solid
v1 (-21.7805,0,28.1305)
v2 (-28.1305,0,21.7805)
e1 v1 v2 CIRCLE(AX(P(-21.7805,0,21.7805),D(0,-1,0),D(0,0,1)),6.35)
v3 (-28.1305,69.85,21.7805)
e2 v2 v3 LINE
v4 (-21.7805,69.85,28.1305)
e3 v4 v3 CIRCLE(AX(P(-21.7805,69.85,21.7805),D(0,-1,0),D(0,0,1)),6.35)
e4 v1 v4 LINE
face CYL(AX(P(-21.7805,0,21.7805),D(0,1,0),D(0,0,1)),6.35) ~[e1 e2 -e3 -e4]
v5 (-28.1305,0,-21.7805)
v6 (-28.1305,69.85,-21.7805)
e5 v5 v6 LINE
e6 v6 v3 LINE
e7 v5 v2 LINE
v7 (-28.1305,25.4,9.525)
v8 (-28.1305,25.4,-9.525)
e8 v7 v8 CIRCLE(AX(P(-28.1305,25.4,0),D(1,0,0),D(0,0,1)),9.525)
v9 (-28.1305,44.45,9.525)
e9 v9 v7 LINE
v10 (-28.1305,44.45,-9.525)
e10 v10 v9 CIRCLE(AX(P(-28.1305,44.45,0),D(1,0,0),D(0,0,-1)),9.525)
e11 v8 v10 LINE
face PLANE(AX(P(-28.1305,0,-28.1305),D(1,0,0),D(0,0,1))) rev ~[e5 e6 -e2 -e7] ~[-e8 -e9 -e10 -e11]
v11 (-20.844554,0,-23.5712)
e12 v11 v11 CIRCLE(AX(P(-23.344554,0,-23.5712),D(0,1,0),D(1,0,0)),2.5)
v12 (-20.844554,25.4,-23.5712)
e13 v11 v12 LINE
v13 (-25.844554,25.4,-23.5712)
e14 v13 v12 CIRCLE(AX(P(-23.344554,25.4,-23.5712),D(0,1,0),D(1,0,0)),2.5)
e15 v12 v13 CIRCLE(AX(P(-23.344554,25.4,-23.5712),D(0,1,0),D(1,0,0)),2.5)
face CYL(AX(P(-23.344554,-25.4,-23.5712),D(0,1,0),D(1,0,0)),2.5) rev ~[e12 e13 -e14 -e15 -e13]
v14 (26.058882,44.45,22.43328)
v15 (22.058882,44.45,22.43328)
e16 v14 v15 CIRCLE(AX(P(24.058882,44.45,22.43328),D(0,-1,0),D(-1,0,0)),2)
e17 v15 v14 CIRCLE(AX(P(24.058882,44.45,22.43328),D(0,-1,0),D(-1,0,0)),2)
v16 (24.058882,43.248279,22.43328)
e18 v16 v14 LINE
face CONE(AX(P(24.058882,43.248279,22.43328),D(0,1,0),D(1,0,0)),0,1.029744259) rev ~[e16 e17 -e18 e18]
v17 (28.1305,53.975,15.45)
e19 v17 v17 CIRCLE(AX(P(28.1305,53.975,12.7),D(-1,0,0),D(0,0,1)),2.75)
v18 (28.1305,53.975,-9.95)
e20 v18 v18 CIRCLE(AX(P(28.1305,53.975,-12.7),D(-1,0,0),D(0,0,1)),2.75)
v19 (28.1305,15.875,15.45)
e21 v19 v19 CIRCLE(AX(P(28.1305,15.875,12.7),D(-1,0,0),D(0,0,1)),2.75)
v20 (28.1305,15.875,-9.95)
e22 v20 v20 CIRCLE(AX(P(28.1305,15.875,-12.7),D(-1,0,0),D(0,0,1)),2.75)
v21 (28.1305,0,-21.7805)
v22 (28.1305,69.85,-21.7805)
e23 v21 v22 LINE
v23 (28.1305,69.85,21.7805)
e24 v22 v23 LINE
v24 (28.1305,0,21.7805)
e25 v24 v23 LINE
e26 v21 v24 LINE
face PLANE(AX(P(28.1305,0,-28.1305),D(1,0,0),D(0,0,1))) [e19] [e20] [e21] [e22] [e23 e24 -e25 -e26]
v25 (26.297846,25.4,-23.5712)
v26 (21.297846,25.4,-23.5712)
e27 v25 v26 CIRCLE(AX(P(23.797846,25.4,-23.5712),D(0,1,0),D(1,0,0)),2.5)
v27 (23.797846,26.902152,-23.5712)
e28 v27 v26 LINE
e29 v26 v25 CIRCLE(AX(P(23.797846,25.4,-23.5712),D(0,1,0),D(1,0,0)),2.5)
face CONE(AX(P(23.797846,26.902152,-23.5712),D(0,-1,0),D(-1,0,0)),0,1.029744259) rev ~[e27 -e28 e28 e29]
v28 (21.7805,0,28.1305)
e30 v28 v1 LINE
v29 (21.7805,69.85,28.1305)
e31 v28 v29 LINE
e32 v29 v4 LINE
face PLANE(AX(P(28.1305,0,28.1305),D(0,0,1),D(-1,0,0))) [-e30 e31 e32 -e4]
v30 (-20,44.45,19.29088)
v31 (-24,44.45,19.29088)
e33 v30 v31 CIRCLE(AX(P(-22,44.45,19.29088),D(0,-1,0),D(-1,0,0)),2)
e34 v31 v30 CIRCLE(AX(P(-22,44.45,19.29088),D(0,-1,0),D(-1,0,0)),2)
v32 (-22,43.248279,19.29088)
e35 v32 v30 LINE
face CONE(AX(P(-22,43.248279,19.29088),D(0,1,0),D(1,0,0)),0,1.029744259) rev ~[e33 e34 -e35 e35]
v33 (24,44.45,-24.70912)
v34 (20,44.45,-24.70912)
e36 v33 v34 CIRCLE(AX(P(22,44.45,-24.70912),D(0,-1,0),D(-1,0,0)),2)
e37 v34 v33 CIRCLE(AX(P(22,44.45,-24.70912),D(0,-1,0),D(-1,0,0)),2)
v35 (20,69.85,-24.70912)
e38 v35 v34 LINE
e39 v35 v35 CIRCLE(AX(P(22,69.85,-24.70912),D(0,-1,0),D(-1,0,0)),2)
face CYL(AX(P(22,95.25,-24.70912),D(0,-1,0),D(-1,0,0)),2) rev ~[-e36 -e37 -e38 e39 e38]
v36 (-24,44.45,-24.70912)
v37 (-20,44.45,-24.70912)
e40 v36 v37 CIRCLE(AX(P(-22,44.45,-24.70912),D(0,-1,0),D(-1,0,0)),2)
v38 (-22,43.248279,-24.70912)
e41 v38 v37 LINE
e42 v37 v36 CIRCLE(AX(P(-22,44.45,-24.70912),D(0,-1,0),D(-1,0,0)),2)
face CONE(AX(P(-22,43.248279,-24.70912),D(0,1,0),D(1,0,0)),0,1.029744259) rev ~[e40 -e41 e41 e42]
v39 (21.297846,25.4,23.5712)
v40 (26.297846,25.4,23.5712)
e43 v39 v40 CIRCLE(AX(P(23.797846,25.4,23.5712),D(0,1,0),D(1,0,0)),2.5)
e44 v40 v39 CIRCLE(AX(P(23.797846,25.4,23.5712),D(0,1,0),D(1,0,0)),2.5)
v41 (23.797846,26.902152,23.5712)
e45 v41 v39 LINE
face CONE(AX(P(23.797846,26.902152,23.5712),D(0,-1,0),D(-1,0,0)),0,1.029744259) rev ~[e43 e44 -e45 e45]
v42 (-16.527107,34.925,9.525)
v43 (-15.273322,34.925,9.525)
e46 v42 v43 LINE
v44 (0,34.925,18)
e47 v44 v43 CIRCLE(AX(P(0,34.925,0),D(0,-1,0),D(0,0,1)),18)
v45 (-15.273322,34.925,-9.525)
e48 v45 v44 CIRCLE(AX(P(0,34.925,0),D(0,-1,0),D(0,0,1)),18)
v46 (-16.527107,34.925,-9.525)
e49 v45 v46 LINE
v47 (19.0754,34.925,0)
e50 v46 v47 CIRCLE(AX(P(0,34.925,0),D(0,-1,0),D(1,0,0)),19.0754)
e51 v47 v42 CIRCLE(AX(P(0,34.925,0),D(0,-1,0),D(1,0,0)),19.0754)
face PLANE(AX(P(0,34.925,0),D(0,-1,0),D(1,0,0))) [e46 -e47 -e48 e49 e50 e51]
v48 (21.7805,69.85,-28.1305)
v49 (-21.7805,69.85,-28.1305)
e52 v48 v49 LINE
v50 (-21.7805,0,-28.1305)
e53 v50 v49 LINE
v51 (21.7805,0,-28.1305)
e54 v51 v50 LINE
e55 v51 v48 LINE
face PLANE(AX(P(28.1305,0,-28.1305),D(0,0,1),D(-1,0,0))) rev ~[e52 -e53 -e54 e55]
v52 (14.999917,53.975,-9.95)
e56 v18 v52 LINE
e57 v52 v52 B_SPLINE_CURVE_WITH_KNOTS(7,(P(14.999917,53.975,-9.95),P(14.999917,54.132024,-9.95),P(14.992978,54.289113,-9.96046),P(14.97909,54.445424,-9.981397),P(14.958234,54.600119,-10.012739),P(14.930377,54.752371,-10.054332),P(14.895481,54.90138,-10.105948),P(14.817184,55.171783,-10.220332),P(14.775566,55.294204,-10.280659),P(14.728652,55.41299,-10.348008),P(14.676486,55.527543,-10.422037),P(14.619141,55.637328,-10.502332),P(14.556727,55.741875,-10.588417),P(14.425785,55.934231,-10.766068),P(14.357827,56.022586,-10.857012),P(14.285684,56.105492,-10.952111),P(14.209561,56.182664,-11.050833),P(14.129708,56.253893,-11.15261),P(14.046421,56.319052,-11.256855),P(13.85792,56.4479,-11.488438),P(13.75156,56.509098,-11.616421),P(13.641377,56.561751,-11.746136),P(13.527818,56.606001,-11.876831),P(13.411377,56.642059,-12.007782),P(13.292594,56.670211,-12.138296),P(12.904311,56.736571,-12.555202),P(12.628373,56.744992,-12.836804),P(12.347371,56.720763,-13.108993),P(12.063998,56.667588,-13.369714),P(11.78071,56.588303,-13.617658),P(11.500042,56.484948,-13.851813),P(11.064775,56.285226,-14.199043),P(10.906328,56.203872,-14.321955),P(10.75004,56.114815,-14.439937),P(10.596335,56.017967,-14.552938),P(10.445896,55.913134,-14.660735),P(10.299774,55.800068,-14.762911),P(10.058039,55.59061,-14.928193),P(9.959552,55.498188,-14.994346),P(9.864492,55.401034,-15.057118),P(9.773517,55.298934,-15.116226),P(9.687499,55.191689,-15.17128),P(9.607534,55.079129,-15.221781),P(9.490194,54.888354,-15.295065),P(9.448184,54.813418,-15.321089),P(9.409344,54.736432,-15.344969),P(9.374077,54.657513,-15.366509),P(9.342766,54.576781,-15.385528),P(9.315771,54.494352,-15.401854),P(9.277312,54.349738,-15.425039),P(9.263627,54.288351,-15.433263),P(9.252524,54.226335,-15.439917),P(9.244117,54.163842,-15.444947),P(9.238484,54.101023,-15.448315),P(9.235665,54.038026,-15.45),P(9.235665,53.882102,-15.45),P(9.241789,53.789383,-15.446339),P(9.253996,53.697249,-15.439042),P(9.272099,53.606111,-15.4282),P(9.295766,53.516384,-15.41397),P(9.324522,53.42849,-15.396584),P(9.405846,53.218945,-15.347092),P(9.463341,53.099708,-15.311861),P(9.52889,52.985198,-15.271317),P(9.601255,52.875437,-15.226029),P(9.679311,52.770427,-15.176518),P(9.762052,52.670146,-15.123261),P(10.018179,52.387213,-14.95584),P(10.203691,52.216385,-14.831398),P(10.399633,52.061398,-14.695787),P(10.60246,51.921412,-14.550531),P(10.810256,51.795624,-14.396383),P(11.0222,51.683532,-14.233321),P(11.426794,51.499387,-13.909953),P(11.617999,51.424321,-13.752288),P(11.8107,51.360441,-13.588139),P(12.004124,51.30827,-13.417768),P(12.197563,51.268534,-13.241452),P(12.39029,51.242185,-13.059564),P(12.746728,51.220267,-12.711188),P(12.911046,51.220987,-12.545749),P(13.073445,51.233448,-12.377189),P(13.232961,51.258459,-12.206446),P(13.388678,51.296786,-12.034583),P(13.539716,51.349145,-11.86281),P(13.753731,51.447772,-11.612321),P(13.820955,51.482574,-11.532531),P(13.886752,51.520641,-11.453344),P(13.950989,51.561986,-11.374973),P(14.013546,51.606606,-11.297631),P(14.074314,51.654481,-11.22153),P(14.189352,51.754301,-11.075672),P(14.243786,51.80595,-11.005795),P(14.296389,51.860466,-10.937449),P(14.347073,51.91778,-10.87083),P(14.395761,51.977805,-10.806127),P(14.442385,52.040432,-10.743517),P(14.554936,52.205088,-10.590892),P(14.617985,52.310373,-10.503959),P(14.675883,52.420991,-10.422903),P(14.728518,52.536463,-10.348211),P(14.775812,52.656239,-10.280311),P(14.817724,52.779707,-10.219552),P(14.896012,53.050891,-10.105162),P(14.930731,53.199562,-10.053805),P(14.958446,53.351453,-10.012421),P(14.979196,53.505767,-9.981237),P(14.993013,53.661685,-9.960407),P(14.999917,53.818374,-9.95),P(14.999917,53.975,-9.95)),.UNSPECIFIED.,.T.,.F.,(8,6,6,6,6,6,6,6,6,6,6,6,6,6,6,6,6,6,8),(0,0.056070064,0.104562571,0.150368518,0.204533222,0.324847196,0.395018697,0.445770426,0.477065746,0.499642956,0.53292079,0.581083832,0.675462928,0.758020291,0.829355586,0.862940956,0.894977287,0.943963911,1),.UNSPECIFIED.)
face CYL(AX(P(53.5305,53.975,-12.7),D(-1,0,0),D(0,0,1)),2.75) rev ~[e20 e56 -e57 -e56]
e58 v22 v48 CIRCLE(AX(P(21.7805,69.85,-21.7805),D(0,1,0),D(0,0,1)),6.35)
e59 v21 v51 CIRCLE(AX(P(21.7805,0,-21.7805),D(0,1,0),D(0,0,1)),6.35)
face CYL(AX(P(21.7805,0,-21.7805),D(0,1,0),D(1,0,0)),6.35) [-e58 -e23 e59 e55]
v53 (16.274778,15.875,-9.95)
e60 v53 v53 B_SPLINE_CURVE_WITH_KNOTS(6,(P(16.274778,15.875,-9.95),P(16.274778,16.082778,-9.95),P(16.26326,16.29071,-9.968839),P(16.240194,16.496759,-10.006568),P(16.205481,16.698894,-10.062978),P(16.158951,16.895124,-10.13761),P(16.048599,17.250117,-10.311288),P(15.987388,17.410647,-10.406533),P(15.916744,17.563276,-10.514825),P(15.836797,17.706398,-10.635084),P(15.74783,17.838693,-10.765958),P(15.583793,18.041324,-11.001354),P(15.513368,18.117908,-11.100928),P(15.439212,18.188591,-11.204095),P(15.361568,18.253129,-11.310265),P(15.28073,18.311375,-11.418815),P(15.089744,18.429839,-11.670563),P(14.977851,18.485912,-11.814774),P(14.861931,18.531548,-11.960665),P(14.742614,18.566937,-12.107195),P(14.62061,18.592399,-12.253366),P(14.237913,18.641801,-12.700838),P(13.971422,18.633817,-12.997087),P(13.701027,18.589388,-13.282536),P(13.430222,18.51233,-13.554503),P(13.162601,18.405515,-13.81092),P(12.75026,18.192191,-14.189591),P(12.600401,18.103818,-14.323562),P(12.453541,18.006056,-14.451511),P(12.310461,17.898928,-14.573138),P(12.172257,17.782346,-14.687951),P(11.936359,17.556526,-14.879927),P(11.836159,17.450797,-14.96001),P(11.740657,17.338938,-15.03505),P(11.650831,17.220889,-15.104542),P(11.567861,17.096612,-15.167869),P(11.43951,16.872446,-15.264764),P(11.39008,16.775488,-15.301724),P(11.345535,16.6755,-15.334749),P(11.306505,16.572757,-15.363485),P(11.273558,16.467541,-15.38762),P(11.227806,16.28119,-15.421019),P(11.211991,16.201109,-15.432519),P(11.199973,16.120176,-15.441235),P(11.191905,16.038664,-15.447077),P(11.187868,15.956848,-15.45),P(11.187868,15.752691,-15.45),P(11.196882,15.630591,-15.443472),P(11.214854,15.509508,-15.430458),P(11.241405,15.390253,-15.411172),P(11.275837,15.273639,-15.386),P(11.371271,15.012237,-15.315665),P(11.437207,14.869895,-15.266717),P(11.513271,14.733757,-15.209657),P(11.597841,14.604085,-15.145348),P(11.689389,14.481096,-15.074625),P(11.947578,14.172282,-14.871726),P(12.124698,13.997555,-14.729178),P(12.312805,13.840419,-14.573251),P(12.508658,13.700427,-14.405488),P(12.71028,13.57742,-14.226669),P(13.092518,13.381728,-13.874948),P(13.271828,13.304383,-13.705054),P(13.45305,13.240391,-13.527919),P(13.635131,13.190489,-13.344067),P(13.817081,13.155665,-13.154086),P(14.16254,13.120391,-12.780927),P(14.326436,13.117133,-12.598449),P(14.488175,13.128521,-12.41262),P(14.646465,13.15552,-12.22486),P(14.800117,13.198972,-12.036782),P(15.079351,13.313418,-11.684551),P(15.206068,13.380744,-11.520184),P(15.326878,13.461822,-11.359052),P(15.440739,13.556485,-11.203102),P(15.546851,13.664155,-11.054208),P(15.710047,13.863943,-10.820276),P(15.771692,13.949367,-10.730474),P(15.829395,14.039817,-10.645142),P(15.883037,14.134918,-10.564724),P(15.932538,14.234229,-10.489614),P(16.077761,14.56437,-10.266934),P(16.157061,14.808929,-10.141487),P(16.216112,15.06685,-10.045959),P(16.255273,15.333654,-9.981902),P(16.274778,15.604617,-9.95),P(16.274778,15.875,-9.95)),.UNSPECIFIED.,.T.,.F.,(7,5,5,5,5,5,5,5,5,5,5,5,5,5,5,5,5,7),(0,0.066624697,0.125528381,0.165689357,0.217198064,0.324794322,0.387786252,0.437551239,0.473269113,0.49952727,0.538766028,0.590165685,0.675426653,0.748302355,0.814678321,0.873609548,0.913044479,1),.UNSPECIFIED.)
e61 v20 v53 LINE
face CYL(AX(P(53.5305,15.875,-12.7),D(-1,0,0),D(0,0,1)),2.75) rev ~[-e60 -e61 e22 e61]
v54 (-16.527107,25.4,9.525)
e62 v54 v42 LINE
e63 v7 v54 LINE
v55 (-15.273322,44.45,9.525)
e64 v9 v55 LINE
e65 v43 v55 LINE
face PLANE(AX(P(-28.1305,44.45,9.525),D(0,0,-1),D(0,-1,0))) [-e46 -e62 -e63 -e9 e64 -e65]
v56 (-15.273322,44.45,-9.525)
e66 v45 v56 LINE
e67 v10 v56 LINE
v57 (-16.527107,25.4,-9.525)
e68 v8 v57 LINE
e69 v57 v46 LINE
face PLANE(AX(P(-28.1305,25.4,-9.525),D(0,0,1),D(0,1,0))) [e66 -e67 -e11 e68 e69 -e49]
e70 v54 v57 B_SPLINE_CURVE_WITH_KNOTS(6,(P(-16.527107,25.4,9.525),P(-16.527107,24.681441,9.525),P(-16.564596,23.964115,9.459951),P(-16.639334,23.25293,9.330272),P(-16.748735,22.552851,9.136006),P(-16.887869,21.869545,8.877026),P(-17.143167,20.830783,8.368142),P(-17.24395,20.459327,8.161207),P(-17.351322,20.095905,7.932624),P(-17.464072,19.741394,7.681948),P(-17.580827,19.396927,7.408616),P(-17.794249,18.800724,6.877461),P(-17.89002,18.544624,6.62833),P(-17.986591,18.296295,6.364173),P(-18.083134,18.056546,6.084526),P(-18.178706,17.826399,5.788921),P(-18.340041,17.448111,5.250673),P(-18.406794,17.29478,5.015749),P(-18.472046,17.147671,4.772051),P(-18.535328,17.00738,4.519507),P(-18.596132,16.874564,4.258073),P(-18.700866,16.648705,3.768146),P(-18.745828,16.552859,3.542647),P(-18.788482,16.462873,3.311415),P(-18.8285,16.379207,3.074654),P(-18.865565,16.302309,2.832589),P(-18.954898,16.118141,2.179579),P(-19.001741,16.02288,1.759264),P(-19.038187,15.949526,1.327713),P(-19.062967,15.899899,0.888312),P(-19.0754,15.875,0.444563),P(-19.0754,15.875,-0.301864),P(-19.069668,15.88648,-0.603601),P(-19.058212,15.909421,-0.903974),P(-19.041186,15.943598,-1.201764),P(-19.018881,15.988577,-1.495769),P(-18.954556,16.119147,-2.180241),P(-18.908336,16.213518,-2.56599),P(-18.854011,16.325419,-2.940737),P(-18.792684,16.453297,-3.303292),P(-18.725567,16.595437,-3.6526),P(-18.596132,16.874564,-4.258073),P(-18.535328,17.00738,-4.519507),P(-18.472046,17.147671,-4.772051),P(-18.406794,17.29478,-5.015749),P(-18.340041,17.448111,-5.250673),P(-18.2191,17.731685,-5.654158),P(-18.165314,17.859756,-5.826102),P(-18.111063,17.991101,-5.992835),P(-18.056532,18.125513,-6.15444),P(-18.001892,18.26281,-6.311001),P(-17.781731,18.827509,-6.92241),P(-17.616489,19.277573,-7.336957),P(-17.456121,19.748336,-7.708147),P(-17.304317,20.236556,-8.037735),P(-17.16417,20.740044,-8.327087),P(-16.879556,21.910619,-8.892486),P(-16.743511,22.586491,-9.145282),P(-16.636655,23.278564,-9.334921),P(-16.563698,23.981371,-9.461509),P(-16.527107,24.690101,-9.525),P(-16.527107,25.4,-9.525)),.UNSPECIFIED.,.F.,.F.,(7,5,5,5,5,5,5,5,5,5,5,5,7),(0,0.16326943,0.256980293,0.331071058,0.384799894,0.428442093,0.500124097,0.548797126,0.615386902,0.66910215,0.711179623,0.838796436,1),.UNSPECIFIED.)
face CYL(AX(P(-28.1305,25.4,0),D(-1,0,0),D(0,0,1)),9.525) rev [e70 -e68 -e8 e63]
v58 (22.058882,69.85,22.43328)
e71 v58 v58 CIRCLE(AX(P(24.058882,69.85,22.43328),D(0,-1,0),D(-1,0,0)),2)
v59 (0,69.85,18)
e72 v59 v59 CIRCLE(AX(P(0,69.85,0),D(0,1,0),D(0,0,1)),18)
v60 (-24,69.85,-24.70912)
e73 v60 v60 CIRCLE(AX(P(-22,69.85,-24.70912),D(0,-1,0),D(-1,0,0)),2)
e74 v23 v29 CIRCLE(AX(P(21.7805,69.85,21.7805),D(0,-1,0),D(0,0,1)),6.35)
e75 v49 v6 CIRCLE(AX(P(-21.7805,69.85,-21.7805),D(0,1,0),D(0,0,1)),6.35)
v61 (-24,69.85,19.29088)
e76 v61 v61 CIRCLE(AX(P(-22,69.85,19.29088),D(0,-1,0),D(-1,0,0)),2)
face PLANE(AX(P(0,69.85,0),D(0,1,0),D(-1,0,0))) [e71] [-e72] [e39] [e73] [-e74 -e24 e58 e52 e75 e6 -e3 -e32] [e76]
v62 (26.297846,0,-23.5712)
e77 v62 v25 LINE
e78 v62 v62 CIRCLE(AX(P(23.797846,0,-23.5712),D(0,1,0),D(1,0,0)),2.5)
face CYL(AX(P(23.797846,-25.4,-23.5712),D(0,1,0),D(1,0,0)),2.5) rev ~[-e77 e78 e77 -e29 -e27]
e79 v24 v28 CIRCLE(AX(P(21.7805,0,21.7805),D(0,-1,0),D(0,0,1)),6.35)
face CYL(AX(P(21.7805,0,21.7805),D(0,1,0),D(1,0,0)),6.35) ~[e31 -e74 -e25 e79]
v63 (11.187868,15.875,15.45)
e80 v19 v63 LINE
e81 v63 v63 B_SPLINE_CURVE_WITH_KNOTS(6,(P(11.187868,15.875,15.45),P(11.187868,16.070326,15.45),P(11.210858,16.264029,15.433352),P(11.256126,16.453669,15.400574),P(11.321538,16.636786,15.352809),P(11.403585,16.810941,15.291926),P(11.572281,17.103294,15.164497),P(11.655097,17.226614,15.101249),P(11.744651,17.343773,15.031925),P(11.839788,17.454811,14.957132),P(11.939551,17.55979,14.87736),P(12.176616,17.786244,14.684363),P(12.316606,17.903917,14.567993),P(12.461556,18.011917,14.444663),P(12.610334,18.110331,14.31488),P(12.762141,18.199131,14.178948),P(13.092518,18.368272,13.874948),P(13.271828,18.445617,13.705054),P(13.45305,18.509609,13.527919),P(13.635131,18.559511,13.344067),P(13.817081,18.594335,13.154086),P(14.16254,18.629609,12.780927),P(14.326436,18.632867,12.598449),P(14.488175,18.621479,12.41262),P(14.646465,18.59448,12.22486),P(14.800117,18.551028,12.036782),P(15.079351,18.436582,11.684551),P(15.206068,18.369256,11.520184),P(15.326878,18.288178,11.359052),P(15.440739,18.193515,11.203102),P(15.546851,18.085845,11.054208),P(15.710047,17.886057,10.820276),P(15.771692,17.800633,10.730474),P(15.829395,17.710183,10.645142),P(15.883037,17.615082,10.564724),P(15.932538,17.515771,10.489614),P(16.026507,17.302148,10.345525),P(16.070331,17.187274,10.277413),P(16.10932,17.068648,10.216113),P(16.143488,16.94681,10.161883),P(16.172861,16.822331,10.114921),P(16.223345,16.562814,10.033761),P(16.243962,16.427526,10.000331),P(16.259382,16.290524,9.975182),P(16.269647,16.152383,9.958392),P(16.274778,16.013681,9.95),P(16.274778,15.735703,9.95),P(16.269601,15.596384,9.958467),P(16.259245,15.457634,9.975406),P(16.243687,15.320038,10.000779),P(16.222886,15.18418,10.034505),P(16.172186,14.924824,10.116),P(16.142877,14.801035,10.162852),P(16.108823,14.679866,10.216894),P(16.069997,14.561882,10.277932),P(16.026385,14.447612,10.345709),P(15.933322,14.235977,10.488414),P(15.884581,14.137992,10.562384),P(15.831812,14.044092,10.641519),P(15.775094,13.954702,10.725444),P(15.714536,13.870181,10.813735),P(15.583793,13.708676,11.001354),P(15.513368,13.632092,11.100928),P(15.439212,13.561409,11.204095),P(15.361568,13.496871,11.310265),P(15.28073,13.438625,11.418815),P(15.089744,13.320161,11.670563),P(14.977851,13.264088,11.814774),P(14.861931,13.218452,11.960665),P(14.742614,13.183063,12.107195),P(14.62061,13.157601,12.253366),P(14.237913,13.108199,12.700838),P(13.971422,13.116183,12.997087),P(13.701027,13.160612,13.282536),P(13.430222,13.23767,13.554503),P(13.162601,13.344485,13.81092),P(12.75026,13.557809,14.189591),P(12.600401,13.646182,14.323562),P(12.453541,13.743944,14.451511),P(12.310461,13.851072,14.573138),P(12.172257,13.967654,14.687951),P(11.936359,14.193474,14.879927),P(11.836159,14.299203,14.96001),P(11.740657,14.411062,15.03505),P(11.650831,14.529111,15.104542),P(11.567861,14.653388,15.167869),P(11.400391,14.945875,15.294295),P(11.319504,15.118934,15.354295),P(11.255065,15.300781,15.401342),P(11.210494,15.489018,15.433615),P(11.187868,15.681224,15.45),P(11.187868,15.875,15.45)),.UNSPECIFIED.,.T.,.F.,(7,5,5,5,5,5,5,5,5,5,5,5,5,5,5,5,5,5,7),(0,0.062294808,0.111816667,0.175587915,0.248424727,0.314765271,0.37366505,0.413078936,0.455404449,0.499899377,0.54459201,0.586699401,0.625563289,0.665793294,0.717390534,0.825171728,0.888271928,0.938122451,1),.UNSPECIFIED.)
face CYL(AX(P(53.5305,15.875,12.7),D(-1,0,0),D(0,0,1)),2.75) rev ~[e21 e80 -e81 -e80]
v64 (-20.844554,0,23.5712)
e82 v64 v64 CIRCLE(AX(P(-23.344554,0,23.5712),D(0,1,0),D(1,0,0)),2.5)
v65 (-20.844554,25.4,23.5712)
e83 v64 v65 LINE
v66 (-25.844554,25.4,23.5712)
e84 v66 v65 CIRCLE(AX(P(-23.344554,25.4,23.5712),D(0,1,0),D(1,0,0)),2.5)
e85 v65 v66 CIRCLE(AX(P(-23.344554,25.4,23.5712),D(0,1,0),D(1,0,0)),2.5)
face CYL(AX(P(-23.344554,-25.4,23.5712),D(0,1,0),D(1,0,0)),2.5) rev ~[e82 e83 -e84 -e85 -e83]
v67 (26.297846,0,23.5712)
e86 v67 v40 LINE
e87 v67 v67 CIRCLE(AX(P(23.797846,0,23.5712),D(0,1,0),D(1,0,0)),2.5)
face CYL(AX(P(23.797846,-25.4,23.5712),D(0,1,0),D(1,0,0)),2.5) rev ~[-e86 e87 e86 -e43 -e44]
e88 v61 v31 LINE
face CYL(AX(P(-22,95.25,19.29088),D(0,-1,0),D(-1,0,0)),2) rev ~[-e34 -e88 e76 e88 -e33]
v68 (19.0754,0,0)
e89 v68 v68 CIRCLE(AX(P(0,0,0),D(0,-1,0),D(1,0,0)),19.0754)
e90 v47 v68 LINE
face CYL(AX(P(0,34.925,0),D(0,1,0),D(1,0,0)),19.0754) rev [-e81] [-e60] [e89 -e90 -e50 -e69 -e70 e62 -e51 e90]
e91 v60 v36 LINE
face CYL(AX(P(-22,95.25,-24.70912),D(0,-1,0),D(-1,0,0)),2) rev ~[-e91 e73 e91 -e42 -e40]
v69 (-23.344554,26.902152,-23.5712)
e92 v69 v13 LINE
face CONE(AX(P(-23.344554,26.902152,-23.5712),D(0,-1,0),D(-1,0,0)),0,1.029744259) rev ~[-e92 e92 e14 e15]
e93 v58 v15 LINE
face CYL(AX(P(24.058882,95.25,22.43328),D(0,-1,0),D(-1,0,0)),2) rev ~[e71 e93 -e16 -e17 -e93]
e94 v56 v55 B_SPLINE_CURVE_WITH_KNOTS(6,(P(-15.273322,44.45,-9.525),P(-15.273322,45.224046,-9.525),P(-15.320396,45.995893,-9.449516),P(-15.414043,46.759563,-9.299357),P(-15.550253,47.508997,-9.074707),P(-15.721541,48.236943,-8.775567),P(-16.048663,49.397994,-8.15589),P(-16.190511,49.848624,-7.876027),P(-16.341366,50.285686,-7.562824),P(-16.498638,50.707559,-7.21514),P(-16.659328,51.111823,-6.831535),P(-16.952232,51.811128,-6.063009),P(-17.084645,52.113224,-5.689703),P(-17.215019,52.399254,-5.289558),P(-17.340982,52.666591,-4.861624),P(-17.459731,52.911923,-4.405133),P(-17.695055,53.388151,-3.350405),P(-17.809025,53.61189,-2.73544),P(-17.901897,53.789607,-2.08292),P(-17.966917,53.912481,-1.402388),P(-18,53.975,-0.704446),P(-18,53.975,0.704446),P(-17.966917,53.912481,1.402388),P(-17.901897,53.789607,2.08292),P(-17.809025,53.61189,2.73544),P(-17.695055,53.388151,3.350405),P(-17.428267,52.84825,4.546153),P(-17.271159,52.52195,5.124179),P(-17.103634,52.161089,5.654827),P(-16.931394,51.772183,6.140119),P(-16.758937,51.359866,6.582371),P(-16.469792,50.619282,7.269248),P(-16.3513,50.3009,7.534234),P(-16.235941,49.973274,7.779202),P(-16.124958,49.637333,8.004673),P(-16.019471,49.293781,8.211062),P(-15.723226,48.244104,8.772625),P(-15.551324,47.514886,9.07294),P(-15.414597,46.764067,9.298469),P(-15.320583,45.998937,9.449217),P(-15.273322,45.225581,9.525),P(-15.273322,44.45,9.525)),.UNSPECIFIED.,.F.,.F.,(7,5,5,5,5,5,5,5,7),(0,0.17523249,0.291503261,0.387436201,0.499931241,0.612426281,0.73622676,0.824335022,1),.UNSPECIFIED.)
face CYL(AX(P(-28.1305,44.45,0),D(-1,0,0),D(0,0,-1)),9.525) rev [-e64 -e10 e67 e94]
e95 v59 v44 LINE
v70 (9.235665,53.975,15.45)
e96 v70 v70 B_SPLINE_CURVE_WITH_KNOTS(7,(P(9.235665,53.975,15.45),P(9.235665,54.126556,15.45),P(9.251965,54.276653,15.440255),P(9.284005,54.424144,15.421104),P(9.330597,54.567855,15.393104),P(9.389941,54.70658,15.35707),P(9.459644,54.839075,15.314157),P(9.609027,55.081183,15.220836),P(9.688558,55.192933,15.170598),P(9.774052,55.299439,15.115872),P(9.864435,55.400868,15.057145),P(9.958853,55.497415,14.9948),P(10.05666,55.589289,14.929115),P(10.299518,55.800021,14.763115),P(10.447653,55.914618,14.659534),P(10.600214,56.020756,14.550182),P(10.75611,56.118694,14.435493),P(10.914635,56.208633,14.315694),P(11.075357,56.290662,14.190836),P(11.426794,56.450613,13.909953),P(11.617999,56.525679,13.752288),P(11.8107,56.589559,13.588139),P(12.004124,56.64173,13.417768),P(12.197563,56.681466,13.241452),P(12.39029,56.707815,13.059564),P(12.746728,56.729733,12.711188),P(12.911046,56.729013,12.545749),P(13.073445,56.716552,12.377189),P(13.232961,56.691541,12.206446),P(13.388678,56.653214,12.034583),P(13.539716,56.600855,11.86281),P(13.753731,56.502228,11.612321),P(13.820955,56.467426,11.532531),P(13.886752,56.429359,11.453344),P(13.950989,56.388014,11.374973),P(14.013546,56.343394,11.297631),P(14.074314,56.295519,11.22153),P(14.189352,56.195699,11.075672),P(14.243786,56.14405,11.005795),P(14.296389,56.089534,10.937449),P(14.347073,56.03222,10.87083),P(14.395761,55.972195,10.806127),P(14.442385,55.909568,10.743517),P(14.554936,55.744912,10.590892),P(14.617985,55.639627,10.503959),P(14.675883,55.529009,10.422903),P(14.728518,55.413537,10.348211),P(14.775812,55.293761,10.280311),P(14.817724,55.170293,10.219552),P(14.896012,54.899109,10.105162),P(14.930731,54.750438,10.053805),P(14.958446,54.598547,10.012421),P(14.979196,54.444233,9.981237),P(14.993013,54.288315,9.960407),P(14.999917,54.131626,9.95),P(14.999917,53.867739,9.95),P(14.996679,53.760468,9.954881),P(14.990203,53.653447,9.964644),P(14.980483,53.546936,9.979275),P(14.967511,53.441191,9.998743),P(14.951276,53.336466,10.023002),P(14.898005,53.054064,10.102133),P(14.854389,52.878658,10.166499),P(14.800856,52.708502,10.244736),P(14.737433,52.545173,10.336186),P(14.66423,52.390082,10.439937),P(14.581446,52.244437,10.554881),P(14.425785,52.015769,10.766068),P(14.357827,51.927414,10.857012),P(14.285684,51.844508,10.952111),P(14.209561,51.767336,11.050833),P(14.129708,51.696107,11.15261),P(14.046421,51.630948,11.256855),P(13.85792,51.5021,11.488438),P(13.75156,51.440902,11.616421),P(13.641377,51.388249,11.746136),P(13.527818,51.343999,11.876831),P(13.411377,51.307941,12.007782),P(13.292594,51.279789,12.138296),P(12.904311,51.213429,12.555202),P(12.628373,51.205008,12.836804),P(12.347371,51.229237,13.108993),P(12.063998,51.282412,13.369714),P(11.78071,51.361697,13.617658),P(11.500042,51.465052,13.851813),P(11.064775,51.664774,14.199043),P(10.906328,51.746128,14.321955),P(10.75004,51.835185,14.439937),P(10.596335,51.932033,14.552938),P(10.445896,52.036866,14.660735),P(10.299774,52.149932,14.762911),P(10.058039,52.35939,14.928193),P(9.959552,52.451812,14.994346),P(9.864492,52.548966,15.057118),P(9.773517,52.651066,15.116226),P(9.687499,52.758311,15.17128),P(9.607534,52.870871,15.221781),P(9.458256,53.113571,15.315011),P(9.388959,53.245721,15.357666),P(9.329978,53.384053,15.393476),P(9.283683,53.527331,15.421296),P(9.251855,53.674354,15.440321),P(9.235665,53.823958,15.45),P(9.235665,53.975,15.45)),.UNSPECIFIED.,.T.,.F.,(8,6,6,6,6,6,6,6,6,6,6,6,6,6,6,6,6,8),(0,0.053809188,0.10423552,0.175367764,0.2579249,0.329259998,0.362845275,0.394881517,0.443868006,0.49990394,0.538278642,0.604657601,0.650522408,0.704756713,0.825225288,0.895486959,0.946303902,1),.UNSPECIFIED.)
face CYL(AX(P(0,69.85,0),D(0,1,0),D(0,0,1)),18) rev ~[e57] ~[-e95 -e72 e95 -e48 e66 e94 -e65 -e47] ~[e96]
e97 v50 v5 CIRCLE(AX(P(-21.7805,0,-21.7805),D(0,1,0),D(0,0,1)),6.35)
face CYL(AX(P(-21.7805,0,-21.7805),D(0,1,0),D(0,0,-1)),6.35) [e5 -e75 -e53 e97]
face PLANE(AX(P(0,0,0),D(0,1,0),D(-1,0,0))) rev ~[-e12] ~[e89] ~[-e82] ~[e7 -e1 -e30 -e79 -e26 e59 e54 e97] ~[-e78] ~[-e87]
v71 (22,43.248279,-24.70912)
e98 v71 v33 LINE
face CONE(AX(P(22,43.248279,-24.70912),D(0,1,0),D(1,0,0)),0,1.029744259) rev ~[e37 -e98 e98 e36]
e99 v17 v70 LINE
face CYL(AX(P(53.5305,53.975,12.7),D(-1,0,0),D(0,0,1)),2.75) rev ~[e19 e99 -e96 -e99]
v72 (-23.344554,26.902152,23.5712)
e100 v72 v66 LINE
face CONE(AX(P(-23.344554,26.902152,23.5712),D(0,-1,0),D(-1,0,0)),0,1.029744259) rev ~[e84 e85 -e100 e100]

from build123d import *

# Parameters (mm, degrees)
SKETCH1_W        = 56.261
SKETCH1_H        = 56.261
EXTRUSION1_DEPTH = 69.85
HOLE1_D          = 4
HOLE1_DEPTH      = 25.4
HOLE1_TIP        = 1.201721238
SKETCH4_R        = 18
EXTRUSION2_DEPTH = 254
HOLE2_D          = 5
HOLE2_DEPTH      = 25.4
HOLE2_TIP        = 1.502151548
EXTRUSION3_START = -34.925
SKETCH7_R        = 19.0754
SKETCH7_R_2      = 18
EXTRUSION3_DEPTH = 34.925
FILLET1_R        = 6.35
FILLET2_R        = 6.35
FILLET3_R        = 6.35
FILLET4_R        = 6.35
EXTRUSION4_DEPTH = 25.4
HOLE3_D          = 5.5
HOLE3_DEPTH      = 25.4
HOLE3_TIP        = 1.652366702


with BuildPart() as part:
    # Sketch1 → Extrusion1 (new body)
    with BuildSketch(Plane(origin=(0, 0, 0), x_dir=(-1, 0, 0), z_dir=(0, 1, 0))):
        Rectangle(SKETCH1_W, SKETCH1_H)
    extrude(amount=EXTRUSION1_DEPTH)

    # Hole1
    with Locations(Plane(origin=(0, 69.85, 0), x_dir=(1, 0, 0), z_dir=(0, 1, 0))):
        with Locations((-22, 24.70912), (22, 24.70912), (24.058881555, -22.43328), (-22, -19.29088)):
            Hole(HOLE1_D / 2, depth=HOLE1_DEPTH)
            with Locations((0, 0, -(HOLE1_DEPTH + HOLE1_TIP / 2))):  # 118° drill point
                Cone(0, HOLE1_D / 2, HOLE1_TIP, mode=Mode.SUBTRACT)

    # Sketch4 → Extrusion2 (cut)
    with BuildSketch(Plane(origin=(0, 69.85, 0), x_dir=(-1, 0, 0), z_dir=(0, 1, 0))):
        with Locations(Location((0, 0, 0), (0, 0, 90))):
            Circle(SKETCH4_R)
    extrude(amount=-EXTRUSION2_DEPTH, mode=Mode.SUBTRACT)

    # Hole2
    with Locations(Plane(origin=(0, 0, 0), x_dir=(-1, 0, 0), z_dir=(0, -1, 0))):
        with Locations((23.344553846, -23.5712), (-23.797846154, -23.5712), (-23.797846154, 23.5712), (23.344553846, 23.5712)):
            Hole(HOLE2_D / 2, depth=HOLE2_DEPTH)
            with Locations((0, 0, -(HOLE2_DEPTH + HOLE2_TIP / 2))):  # 118° drill point
                Cone(0, HOLE2_D / 2, HOLE2_TIP, mode=Mode.SUBTRACT)

    # Sketch7 → Extrusion3 (cut)
    with BuildSketch(Plane.XZ.offset(EXTRUSION3_START)):
        Circle(SKETCH7_R)
        with Locations(Location((0, 0, 0), (0, 0, 90))):
            Circle(SKETCH7_R_2, mode=Mode.SUBTRACT)
    extrude(amount=EXTRUSION3_DEPTH, mode=Mode.SUBTRACT)

    # Fillet1
    fillet1_edges = [part.edges().sort_by_distance(p)[0] for p in [
        (28.1305, 34.925, 28.1305),
    ]]
    fillet(fillet1_edges, radius=FILLET1_R)

    # Fillet2
    fillet2_edges = [part.edges().sort_by_distance(p)[0] for p in [
        (-28.1305, 34.925, 28.1305),
    ]]
    fillet(fillet2_edges, radius=FILLET2_R)

    # Fillet3
    fillet3_edges = [part.edges().sort_by_distance(p)[0] for p in [
        (28.1305, 34.925, -28.1305),
    ]]
    fillet(fillet3_edges, radius=FILLET3_R)

    # Fillet4
    fillet4_edges = [part.edges().sort_by_distance(p)[0] for p in [
        (-28.1305, 34.925, -28.1305),
    ]]
    fillet(fillet4_edges, radius=FILLET4_R)

    # Sketch8 → Extrusion4 (cut)
    with BuildSketch(Plane.ZY.offset(28.1305)):
        with BuildLine():
            Line((-9.525, 25.4), (-9.525, 44.45))
            ThreePointArc((-9.525, 44.45), (0, 53.975), (9.525, 44.45))
            Line((9.525, 44.45), (9.525, 25.4))
            ThreePointArc((9.525, 25.4), (0, 15.875), (-9.525, 25.4))
        make_face()
    extrude(amount=-EXTRUSION4_DEPTH, mode=Mode.SUBTRACT)

    # Hole3
    with Locations(Plane(origin=(28.1305, 0, 0), x_dir=(0, 0, -1), z_dir=(1, 0, 0))):
        with Locations((-12.7, 53.975), (12.7, 53.975), (12.7, 15.875), (-12.7, 15.875)):
            Hole(HOLE3_D / 2, depth=HOLE3_DEPTH)
            with Locations((0, 0, -(HOLE3_DEPTH + HOLE3_TIP / 2))):  # 118° drill point
                Cone(0, HOLE3_D / 2, HOLE3_TIP, mode=Mode.SUBTRACT)


solid = part.part
